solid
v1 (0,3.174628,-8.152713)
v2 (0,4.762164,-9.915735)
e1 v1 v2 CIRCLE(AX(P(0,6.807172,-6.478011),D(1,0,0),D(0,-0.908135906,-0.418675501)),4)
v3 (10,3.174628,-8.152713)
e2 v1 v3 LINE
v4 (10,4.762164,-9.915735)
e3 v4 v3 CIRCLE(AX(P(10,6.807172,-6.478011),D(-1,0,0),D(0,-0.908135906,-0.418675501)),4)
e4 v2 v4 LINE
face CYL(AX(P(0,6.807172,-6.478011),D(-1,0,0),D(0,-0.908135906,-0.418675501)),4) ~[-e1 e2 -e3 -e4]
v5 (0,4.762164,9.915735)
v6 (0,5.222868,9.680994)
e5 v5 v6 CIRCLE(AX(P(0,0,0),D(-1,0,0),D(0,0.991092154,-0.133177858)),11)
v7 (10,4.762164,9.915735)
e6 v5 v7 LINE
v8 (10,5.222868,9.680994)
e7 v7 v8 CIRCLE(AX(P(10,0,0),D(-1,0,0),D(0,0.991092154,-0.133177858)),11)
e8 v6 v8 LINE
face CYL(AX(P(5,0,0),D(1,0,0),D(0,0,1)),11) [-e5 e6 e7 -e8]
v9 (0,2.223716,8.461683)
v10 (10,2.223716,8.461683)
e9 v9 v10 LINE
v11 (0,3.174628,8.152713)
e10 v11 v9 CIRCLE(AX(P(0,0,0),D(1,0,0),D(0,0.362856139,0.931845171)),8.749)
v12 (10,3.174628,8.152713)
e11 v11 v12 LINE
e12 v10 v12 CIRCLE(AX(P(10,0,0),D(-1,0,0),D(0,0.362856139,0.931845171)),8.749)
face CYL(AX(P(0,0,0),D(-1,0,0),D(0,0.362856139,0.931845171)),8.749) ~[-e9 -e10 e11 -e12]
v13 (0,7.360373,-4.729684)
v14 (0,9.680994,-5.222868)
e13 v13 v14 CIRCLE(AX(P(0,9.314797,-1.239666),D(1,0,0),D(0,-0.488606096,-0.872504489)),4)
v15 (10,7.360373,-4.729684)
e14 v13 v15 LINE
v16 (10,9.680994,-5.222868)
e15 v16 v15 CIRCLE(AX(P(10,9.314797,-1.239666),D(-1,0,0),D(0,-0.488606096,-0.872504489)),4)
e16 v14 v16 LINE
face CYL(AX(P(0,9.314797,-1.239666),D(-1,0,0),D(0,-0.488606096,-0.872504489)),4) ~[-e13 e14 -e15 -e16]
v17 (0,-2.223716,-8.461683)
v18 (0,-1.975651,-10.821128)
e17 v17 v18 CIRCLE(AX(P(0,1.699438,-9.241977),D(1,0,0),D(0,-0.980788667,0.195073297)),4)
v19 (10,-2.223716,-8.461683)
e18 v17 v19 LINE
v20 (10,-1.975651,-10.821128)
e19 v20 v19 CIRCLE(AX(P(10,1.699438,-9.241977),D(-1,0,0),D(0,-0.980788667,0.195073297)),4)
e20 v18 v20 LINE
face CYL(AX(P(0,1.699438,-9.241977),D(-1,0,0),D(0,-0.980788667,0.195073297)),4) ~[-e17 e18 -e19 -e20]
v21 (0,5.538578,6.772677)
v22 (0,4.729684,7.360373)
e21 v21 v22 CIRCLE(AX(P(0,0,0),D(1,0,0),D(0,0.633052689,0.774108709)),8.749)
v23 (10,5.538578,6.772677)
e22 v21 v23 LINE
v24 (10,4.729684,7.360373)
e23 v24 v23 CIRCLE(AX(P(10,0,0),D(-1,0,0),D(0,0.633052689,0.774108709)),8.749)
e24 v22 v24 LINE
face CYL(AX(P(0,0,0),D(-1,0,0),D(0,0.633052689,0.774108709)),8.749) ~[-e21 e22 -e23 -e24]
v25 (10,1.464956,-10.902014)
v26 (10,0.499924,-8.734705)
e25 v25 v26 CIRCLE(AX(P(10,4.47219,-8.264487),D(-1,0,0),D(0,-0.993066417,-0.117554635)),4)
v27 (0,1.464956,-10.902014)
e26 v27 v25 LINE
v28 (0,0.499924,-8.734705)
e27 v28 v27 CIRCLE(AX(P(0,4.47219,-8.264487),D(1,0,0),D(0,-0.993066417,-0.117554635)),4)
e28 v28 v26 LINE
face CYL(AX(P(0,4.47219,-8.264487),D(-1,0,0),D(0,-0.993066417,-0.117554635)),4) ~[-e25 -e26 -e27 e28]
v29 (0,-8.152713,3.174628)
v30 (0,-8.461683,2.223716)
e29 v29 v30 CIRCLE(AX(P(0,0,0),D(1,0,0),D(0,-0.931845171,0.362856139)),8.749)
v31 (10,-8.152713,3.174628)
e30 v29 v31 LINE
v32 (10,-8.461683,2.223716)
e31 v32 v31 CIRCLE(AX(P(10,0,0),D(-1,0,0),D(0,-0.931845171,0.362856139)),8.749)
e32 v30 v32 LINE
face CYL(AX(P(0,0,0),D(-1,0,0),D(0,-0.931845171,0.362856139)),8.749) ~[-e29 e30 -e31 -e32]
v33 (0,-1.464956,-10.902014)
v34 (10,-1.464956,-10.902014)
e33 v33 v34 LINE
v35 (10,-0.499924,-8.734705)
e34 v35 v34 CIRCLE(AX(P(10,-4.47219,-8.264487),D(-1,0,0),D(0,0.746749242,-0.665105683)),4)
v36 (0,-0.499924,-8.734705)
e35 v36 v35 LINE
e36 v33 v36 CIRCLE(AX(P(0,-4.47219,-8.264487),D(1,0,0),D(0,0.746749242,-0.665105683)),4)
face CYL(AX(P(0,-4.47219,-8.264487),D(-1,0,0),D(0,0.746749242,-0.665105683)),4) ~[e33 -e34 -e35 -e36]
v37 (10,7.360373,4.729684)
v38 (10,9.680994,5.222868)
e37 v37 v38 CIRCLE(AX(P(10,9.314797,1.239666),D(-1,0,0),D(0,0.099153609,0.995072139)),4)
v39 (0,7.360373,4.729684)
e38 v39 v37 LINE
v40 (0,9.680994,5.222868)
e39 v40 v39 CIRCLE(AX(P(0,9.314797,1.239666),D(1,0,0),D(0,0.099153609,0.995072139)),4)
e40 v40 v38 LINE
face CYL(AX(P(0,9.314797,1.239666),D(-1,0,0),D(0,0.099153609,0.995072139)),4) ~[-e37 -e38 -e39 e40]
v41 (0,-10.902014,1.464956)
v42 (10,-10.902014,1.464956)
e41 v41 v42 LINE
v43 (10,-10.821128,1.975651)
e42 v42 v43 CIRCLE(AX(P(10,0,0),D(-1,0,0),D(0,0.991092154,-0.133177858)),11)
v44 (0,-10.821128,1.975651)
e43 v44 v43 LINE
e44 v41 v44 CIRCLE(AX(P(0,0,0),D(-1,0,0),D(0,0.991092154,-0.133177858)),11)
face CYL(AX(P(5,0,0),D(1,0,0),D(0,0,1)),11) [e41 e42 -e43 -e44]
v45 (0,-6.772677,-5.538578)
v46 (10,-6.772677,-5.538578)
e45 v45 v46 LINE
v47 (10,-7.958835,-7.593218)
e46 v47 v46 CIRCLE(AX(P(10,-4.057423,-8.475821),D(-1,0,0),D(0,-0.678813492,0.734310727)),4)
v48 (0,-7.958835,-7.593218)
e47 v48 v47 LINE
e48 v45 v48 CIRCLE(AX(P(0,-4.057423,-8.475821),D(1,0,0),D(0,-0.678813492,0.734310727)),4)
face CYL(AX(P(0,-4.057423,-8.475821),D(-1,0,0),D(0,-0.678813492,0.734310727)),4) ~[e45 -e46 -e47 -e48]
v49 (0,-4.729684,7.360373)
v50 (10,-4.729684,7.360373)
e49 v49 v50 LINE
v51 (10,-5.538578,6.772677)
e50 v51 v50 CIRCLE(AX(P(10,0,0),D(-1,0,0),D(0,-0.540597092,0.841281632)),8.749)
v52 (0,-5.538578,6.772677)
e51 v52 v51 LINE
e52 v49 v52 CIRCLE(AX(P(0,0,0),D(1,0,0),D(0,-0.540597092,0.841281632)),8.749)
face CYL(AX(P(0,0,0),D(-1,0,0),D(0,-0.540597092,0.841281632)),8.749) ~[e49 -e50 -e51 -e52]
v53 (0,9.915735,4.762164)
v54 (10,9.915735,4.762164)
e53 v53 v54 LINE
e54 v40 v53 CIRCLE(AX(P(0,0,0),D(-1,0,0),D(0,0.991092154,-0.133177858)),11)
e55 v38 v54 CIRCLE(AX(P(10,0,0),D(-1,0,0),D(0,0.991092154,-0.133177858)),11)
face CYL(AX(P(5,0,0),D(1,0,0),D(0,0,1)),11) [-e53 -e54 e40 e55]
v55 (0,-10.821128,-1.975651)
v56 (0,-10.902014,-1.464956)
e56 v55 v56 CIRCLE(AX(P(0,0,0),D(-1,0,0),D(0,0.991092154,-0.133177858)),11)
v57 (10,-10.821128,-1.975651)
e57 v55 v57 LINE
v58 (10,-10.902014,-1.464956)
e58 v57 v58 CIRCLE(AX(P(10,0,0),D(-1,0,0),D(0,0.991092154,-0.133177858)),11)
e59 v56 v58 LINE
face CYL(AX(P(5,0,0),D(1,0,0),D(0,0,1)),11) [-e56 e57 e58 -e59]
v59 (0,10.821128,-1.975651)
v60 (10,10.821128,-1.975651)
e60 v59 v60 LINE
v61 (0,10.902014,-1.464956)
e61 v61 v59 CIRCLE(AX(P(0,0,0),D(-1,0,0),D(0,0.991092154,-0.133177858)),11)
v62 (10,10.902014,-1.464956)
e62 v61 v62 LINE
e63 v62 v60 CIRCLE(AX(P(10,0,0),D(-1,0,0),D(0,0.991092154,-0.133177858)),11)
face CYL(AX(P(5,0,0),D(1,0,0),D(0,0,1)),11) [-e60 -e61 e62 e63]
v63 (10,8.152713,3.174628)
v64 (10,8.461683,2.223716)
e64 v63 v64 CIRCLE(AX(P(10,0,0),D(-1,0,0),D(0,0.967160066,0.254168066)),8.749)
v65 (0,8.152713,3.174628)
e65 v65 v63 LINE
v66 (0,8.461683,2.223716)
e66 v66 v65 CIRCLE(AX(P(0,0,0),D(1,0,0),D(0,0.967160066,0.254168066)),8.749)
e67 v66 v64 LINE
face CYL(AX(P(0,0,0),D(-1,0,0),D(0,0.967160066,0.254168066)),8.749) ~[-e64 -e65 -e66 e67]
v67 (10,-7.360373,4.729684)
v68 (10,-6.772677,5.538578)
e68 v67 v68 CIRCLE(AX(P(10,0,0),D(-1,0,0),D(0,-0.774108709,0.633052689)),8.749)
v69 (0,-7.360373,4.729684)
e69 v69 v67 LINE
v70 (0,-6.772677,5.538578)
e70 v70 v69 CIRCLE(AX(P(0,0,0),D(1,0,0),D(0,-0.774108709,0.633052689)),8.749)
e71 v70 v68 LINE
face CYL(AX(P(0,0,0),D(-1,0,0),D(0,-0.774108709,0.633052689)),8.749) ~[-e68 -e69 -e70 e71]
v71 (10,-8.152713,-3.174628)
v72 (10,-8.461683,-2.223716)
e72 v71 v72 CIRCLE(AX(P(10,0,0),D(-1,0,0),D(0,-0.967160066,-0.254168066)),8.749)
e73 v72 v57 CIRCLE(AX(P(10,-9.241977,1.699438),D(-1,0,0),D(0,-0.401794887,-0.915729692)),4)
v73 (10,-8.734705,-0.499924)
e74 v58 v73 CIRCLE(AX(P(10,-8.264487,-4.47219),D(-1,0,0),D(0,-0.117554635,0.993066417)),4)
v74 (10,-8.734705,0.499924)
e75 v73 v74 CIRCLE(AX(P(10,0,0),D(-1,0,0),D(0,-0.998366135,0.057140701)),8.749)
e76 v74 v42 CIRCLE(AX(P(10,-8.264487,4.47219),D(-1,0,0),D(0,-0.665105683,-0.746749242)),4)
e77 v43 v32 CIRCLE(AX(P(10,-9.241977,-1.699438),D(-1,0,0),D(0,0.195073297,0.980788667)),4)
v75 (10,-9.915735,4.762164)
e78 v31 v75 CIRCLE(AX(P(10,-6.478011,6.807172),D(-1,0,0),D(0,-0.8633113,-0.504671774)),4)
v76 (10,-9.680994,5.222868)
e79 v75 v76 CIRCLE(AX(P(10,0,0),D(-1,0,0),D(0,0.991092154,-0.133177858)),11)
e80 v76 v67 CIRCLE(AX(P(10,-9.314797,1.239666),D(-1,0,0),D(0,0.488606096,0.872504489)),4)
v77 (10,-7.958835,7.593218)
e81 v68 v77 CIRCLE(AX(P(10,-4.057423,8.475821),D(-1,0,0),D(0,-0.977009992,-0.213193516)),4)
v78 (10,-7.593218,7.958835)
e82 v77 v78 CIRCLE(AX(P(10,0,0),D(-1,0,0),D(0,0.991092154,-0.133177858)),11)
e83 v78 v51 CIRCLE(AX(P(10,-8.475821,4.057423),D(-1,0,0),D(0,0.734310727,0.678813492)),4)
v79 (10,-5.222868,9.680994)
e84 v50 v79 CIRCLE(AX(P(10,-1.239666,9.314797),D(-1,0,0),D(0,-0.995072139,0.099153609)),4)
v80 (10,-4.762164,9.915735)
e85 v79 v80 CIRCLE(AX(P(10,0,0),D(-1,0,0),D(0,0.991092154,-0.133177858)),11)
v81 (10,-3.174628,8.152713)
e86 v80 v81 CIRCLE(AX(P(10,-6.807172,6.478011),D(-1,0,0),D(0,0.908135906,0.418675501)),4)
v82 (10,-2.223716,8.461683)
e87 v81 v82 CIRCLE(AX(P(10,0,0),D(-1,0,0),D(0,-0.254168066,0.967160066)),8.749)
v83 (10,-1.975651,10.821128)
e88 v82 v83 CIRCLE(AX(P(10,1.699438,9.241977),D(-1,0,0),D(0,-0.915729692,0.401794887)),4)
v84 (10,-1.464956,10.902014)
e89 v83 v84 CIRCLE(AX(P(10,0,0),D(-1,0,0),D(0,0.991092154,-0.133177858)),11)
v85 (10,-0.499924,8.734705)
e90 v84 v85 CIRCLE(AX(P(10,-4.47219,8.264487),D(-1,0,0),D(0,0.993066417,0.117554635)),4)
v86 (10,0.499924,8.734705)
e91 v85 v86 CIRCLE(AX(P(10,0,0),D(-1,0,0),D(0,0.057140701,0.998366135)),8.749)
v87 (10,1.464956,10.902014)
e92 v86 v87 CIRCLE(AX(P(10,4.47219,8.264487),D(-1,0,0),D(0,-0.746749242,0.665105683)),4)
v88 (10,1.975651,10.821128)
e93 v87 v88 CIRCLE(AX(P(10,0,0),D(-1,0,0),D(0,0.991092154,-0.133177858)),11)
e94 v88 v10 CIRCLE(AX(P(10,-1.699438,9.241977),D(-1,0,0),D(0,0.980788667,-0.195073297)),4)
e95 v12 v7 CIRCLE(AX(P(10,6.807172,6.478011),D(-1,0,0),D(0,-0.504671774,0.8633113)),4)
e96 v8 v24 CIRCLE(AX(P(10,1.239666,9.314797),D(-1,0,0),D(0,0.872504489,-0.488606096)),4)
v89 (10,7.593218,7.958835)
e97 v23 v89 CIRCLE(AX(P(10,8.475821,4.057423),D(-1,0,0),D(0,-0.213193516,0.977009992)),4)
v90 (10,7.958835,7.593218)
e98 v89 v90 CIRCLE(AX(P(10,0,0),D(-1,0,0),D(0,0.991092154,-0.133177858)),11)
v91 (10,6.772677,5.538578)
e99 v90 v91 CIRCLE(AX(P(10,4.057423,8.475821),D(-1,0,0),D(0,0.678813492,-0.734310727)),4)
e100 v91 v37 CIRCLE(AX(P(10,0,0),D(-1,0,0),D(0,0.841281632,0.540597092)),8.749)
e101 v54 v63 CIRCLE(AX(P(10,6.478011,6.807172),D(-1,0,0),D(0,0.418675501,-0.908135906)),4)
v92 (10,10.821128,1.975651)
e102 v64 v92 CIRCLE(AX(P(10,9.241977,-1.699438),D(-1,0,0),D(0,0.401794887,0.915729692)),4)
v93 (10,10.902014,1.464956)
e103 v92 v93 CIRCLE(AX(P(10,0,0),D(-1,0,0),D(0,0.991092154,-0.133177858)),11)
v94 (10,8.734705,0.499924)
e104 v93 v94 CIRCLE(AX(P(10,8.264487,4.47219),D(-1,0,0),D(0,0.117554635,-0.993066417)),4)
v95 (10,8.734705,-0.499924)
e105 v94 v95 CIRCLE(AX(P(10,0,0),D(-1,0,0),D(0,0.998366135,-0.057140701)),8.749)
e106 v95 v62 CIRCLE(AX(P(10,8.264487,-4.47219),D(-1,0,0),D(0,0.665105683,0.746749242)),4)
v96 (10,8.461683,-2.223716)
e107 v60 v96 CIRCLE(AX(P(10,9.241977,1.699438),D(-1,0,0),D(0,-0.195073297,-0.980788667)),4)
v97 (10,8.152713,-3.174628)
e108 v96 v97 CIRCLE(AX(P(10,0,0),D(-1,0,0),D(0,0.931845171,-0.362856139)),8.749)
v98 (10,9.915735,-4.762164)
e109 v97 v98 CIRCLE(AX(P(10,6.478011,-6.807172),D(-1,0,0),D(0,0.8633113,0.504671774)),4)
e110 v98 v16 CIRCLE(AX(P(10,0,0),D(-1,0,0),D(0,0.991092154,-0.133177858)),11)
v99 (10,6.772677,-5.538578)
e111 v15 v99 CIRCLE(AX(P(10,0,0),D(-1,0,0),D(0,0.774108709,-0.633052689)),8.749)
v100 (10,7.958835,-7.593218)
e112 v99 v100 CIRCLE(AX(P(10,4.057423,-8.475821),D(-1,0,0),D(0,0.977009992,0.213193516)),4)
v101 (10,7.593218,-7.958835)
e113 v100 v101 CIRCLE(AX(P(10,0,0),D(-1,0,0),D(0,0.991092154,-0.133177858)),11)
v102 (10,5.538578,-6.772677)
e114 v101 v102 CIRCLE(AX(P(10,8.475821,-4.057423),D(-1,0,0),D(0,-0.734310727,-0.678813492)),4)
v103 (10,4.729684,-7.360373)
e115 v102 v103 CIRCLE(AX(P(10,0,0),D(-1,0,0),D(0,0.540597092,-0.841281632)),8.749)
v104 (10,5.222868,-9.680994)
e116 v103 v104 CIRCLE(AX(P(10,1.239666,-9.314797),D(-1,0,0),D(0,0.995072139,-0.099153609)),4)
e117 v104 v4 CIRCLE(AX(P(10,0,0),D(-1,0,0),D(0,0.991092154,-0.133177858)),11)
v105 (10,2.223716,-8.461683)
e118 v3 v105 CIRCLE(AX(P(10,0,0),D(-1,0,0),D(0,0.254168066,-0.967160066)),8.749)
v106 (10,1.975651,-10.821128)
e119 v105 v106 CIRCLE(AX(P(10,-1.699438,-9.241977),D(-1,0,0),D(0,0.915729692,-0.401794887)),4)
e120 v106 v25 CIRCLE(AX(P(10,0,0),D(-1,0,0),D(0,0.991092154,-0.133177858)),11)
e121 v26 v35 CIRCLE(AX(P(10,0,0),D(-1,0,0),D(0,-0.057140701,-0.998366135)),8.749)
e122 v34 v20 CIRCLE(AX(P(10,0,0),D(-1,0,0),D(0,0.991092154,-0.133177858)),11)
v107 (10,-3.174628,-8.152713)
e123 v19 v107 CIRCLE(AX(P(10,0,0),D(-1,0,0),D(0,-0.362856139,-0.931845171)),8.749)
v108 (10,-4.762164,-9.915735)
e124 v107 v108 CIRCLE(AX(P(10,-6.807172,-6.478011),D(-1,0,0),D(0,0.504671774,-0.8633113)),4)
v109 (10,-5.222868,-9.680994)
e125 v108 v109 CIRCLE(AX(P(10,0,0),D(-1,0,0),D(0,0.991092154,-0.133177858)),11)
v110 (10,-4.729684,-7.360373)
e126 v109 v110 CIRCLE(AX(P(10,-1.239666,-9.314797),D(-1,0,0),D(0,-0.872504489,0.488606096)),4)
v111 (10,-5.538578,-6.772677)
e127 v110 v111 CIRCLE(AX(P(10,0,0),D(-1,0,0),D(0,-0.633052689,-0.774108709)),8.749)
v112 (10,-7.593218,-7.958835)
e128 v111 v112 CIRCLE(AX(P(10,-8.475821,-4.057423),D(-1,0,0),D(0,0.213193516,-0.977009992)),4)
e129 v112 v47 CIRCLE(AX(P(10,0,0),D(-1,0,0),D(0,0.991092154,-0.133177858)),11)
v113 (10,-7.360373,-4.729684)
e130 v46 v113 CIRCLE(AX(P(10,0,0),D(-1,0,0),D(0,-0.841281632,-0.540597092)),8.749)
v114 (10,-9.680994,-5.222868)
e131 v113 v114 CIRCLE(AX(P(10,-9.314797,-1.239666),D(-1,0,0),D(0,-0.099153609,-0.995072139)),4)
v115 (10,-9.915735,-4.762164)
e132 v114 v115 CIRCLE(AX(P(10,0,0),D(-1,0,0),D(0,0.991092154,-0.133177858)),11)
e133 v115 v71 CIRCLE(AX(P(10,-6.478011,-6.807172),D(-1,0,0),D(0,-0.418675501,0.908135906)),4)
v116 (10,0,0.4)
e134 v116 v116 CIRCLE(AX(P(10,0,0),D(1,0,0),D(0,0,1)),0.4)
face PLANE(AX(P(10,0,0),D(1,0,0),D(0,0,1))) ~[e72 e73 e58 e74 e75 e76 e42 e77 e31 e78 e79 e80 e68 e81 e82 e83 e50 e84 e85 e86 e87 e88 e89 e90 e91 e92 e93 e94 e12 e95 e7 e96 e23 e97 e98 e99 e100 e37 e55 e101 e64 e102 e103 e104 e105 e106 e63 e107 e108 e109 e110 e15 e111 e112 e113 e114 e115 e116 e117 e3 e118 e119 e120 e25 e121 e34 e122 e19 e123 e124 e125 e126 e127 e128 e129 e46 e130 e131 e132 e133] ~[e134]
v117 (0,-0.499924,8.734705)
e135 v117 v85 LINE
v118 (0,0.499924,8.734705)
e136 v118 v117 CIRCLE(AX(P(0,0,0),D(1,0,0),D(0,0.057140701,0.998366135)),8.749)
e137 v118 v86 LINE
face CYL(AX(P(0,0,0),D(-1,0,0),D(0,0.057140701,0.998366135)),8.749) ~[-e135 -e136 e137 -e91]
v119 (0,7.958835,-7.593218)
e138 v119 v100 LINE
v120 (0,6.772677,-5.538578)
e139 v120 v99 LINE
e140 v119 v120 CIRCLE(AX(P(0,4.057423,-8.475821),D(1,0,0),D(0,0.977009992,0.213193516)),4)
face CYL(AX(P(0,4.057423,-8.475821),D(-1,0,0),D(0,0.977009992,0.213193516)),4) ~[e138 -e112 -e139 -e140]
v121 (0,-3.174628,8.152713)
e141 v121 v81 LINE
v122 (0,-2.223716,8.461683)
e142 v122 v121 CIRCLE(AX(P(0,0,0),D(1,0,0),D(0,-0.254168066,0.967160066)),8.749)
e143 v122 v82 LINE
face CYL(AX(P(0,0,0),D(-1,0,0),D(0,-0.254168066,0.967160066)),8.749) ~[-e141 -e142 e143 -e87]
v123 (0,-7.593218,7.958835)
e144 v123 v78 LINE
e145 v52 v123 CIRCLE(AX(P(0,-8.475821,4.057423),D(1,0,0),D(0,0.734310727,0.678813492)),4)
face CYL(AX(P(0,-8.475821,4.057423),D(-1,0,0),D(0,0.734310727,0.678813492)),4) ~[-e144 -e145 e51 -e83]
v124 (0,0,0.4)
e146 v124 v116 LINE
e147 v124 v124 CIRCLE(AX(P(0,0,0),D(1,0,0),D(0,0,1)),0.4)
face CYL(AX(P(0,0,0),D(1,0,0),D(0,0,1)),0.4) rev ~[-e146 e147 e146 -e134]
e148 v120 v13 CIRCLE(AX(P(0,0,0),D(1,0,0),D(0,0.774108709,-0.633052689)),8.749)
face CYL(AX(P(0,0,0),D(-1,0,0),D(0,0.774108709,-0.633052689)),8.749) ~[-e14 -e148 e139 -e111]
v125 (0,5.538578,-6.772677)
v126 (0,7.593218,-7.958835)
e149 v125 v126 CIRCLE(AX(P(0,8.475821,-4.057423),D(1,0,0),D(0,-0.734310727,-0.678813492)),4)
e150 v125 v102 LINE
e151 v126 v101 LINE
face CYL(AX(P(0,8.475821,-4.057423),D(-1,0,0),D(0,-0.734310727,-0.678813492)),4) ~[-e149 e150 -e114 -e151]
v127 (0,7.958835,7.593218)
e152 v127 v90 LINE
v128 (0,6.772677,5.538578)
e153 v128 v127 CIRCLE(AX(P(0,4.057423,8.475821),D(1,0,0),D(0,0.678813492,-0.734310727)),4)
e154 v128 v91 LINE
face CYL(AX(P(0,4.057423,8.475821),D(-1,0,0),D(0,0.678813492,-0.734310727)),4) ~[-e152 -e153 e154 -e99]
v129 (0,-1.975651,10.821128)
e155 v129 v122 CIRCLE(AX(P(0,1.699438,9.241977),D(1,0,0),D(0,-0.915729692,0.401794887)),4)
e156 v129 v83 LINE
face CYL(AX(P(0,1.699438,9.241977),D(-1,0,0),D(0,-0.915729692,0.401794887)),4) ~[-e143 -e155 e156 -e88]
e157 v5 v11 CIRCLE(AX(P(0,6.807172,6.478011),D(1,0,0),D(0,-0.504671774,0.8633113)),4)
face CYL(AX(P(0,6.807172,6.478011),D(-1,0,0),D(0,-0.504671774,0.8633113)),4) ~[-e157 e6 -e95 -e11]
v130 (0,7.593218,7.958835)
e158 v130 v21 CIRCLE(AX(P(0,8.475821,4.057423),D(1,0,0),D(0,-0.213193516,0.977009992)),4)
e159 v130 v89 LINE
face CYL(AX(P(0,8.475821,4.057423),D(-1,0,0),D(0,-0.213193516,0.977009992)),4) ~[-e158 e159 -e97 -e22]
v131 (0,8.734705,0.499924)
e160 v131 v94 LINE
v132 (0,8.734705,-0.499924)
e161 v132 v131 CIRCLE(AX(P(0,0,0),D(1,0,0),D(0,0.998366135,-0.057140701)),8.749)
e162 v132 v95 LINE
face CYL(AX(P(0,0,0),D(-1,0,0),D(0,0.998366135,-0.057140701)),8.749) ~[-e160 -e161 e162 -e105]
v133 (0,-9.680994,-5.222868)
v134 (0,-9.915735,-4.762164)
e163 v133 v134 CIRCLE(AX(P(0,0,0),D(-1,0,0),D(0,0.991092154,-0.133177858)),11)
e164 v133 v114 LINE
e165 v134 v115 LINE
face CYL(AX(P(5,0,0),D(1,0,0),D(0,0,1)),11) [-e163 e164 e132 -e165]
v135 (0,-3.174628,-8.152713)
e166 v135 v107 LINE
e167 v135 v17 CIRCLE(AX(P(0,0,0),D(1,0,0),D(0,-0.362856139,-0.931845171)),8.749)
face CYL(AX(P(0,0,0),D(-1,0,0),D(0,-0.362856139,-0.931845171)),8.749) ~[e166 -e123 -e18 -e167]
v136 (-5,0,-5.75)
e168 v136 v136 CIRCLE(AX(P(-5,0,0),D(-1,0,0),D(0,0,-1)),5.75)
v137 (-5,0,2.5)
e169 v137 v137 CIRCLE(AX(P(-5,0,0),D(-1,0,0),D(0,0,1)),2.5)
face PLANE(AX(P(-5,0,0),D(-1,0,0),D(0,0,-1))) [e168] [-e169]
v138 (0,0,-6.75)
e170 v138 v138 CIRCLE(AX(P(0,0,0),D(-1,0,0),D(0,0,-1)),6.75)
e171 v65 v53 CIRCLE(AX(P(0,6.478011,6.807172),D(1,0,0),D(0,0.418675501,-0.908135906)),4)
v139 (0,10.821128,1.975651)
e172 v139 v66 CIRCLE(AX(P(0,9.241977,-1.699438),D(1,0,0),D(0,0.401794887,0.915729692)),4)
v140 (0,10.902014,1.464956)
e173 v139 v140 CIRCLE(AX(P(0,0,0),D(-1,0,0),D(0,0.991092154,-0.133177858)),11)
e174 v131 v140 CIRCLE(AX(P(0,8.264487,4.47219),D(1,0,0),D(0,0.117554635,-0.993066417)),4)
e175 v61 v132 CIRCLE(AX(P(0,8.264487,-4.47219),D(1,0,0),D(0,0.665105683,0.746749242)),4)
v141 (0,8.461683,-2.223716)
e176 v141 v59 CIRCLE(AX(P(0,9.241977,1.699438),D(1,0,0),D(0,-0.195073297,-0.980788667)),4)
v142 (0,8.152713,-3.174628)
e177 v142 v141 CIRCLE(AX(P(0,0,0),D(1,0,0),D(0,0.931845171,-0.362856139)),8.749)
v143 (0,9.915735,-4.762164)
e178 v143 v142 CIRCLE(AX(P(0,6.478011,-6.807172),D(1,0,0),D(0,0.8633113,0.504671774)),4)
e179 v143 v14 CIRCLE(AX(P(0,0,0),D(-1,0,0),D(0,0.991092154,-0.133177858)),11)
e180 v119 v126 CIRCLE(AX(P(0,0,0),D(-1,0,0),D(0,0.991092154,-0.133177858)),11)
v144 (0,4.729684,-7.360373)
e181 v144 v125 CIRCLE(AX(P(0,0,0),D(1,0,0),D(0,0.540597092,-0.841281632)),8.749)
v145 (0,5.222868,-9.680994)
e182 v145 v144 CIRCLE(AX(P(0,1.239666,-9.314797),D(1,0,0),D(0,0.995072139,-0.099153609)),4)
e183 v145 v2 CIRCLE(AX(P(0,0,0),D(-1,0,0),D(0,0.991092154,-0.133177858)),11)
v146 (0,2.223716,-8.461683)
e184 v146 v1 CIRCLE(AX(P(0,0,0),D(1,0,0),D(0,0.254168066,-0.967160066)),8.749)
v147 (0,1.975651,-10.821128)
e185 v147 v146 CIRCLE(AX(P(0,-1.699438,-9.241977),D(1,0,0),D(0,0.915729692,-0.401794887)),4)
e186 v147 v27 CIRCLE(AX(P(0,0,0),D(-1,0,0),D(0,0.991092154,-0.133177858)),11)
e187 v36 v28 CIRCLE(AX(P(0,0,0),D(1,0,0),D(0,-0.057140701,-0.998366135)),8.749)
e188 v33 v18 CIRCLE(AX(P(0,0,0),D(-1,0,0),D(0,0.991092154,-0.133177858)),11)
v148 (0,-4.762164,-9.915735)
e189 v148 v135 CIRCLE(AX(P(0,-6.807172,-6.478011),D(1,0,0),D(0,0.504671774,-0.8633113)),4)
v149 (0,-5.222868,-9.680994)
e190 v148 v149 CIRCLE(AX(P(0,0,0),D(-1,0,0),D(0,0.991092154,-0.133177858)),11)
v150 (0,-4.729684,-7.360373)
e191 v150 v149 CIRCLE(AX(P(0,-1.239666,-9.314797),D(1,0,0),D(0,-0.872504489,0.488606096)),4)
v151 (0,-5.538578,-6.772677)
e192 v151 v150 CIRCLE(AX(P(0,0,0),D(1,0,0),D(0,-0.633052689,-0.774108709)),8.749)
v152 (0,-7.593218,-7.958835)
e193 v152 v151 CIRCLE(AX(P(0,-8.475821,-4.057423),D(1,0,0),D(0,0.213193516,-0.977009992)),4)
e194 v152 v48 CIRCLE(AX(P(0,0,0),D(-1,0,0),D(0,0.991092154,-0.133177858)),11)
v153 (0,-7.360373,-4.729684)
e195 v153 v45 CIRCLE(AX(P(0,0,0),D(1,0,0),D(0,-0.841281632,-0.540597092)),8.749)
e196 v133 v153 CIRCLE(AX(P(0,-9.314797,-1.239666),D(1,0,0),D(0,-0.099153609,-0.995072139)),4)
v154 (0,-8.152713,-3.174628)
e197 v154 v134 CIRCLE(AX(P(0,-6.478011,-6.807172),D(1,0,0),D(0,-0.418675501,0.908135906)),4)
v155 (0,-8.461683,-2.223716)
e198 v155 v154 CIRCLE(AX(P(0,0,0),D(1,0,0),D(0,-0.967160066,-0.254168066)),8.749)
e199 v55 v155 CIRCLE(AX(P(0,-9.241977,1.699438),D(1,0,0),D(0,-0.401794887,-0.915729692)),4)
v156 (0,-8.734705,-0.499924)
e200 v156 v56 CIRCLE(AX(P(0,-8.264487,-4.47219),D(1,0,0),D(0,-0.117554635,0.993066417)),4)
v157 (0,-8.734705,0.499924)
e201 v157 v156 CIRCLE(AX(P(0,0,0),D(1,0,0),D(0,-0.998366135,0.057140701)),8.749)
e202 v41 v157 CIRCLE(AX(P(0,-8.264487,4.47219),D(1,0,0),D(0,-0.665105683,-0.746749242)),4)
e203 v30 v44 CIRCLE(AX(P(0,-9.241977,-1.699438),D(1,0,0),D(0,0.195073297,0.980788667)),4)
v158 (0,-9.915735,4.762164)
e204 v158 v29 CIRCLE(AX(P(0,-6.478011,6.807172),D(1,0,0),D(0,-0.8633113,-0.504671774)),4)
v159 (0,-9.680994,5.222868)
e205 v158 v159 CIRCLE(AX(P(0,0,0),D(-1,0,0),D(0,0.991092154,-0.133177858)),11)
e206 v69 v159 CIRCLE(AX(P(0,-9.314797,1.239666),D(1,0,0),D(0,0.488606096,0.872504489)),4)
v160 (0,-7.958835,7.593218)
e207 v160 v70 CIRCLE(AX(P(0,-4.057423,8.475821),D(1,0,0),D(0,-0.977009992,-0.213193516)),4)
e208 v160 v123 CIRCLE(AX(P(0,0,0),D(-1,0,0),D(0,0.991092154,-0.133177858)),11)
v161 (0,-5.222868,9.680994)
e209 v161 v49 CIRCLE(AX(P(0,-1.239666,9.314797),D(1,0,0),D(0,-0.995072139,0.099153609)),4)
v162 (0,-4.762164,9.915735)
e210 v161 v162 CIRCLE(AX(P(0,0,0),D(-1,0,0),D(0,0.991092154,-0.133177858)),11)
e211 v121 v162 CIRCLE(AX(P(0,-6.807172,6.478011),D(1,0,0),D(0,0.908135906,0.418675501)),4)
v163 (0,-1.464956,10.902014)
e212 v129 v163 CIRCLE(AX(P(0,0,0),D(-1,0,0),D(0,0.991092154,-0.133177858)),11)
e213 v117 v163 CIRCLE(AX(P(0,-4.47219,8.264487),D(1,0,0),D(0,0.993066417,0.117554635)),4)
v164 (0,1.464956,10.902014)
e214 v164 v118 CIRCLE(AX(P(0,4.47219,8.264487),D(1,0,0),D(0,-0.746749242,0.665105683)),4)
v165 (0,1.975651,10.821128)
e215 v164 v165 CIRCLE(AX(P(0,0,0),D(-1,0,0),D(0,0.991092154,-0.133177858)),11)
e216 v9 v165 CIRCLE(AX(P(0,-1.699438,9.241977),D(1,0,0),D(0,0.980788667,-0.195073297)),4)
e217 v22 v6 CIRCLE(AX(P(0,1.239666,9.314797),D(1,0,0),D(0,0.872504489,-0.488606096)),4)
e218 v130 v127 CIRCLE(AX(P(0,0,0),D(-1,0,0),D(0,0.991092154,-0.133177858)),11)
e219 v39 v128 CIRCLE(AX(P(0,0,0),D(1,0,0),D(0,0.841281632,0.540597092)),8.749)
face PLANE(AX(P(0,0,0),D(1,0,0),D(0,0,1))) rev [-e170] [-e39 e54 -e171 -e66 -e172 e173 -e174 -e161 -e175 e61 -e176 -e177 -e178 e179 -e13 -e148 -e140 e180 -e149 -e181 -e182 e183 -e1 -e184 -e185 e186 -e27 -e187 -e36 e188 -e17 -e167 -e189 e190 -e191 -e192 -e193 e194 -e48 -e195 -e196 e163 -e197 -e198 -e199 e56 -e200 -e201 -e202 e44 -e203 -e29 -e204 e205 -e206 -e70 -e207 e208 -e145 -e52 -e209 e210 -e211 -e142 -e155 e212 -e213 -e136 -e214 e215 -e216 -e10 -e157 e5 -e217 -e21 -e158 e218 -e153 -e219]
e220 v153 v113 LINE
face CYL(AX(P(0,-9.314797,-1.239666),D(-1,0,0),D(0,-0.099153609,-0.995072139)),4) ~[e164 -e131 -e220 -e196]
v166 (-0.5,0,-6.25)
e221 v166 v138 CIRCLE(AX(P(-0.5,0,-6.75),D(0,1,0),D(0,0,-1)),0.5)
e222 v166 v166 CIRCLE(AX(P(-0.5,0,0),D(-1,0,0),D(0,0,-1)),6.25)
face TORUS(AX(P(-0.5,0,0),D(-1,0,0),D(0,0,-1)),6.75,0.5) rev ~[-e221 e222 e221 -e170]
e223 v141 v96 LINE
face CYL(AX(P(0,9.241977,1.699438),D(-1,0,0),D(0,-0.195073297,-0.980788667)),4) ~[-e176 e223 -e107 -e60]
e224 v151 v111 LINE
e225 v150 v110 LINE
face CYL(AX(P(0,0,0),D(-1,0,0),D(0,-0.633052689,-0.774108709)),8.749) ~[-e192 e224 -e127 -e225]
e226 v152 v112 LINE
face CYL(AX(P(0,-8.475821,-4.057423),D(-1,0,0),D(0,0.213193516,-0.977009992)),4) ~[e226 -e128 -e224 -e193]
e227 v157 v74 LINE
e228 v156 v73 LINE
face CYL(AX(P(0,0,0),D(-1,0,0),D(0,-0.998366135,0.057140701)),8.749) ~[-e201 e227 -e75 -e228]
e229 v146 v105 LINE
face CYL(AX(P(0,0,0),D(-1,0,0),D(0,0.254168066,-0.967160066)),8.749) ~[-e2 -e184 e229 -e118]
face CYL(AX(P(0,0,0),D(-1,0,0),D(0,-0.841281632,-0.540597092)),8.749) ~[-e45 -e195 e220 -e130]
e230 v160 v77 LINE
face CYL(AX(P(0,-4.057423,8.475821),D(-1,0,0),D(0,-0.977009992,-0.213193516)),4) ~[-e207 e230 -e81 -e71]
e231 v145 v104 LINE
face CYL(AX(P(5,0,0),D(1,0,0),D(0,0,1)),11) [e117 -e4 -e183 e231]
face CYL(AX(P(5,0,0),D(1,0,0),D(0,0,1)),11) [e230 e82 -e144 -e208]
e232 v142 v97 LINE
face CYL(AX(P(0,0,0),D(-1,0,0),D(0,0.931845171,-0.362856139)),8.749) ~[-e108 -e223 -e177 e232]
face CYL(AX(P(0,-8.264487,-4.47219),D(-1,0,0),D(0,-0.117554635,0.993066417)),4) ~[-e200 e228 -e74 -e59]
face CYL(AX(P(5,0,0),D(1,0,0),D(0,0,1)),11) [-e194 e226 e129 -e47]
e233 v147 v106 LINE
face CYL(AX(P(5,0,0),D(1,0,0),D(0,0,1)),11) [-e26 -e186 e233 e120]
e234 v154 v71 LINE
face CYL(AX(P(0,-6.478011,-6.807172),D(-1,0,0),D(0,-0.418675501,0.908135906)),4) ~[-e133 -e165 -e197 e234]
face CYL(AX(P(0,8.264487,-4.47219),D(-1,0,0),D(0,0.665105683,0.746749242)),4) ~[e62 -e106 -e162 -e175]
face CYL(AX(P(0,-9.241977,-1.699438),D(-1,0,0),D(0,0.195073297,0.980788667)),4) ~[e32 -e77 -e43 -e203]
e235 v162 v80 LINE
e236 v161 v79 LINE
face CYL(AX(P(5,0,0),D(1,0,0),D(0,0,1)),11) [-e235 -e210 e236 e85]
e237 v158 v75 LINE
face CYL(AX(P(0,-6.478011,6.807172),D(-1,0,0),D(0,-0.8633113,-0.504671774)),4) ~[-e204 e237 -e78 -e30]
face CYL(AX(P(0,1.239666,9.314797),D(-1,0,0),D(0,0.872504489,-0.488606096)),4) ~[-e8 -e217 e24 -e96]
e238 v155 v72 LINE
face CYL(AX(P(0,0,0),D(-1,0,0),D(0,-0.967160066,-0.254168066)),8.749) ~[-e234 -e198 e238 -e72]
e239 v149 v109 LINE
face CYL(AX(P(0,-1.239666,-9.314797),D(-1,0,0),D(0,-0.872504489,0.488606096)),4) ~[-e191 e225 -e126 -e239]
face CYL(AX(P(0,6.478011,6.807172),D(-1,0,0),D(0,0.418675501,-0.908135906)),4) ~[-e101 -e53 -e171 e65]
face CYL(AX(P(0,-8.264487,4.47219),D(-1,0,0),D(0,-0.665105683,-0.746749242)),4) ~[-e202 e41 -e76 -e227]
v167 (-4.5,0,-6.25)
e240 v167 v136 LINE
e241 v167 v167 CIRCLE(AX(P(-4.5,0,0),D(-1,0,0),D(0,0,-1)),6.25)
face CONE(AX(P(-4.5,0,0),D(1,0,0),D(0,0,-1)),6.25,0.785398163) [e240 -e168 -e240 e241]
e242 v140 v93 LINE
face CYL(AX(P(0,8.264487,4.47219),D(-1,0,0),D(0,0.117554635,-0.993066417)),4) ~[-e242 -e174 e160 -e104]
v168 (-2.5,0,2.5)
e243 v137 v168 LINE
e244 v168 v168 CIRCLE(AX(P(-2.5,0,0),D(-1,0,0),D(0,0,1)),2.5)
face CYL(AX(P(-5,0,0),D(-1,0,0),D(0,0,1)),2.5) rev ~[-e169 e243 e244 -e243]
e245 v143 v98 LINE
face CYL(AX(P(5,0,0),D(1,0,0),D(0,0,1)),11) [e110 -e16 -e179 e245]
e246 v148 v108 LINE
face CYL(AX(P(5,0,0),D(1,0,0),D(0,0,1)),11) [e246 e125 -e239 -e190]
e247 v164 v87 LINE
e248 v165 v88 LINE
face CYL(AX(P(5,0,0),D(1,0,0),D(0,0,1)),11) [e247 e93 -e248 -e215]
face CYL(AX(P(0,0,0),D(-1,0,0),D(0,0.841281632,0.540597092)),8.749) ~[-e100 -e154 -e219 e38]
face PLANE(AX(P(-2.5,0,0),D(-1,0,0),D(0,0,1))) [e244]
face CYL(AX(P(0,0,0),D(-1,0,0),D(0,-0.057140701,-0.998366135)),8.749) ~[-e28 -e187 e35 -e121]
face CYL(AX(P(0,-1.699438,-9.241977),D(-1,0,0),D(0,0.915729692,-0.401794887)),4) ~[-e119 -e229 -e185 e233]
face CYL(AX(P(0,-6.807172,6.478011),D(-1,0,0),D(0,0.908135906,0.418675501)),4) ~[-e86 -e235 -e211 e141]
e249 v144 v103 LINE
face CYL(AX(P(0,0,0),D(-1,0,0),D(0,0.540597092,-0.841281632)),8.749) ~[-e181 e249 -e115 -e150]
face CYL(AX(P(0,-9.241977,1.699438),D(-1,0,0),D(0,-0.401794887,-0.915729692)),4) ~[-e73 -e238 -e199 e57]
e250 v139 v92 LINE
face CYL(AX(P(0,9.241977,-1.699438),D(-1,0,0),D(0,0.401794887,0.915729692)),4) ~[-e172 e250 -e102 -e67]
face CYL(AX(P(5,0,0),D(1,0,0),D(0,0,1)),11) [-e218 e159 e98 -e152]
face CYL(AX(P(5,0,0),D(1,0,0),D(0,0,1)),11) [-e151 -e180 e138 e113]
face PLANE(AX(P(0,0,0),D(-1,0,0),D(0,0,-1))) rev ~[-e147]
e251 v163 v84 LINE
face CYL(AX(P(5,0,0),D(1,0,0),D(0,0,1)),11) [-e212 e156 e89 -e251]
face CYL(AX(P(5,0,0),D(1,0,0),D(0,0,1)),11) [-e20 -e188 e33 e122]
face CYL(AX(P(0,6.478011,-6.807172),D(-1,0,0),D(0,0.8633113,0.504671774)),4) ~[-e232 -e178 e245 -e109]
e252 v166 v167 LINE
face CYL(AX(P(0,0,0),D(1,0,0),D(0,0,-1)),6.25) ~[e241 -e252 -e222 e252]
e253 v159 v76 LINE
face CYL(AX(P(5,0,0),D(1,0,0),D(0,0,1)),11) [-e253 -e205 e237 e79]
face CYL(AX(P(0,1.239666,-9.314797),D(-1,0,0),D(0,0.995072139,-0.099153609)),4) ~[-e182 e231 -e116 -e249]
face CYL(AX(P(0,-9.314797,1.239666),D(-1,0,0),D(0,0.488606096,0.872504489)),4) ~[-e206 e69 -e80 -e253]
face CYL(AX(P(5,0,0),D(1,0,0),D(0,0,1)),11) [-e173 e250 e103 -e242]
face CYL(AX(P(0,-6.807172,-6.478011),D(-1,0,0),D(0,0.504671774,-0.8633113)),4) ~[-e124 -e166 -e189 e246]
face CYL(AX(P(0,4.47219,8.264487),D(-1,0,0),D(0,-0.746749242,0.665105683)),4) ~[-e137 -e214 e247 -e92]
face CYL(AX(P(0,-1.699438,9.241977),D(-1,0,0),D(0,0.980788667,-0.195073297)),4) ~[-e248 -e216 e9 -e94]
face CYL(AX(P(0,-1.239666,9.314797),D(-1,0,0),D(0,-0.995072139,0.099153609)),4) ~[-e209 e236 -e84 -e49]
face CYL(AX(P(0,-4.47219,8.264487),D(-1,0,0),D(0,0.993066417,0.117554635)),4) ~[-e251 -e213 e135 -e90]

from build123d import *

# Parameters (mm, degrees)
BASPROSKE_W         = 10
BASPROSKE_H         = 11
TOOTHCUT_DEPTH      = 19.493242009
TEETHCUTS_COUNT     = 20
TEETHCUTS_ANGLE     = 342
BORSKE_R            = 0.4
BORE_DEPTH          = 50.0000508
SKETCH1_R           = 6.25
BOSS_EXTRUDE1_DEPTH = 5
FILLET1_R           = 0.5
CHAMFER1_SIZE       = 0.5
SKETCH4_R           = 2.5
CUT_EXTRUDE1_DEPTH  = 2.5


with BuildPart() as part:
    # BasProSke → Base-Revolve (revolve)
    with BuildSketch(Plane(origin=(0, 0, 0), x_dir=(1, 0, 0), z_dir=(0, 1, 0)), mode=Mode.PRIVATE) as base_revolve_sk:
        with Locations((5, 5.5)):
            Rectangle(BASPROSKE_W, BASPROSKE_H)
    revolve(base_revolve_sk.sketch.rotate(Axis((-10, 0, 0), (1, 0, 0)), 180), axis=Axis((-10, 0, 0), (1, 0, 0)))

    # TooCutSke → ToothCut (cut, through all)
    with BuildSketch(Plane(origin=(0, 0, 0), x_dir=(0, 0, -1), z_dir=(1, 0, 0))):
        with BuildLine():
            ThreePointArc((0.499924007, 8.734705318), (0, 8.749), (-0.499924007, 8.734705318))
            ThreePointArc((-0.499924007, 8.734705318), (-0.824302243, 9.905497836), (-1.485192705, 10.924909509))
            ThreePointArc((-1.485192705, 10.924909509), (0, 11.0254), (1.485192705, 10.924909509))
            ThreePointArc((1.485192705, 10.924909509), (0.824302243, 9.905497836), (0.499924007, 8.734705318))
        make_face()
    toothcut = extrude(amount=TOOTHCUT_DEPTH, mode=Mode.SUBTRACT)

    # TeethCuts: ToothCut ×20 about axis
    teethcuts_axis = Axis((-10, 0, 0), (1, 0, 0))
    for i in range(1, TEETHCUTS_COUNT):
        add(toothcut.rotate(teethcuts_axis, i * TEETHCUTS_ANGLE / (TEETHCUTS_COUNT - 1)), mode=Mode.SUBTRACT)

    # BorSke → Bore (cut, symmetric)
    with BuildSketch(Plane(origin=(0, 0, 0), x_dir=(0, 0, -1), z_dir=(1, 0, 0))):
        with Locations(Location((0, 0, 0), (0, 0, 180))):
            Circle(BORSKE_R)
    extrude(amount=BORE_DEPTH, both=True, mode=Mode.SUBTRACT)

    # Sketch1 → Boss-Extrude1 (add)
    with BuildSketch(Plane.ZY):
        with Locations(Location((0, 0, 0), (0, 0, 180))):
            Circle(SKETCH1_R)
    extrude(amount=BOSS_EXTRUDE1_DEPTH)

    # Fillet1
    fillet1_edges = [part.edges().sort_by_distance(p)[0] for p in [
        (0, 0, 6.25),
    ]]
    fillet(fillet1_edges, radius=FILLET1_R)

    # Chamfer1
    chamfer1_edges = [part.edges().sort_by_distance(p)[0] for p in [
        (-5, 0, 6.25),
    ]]
    chamfer(chamfer1_edges, length=CHAMFER1_SIZE)

    # Sketch4 → Cut-Extrude1 (cut)
    with BuildSketch(Plane.ZY.offset(5)):
        Circle(SKETCH4_R)
    extrude(amount=-CUT_EXTRUDE1_DEPTH, mode=Mode.SUBTRACT)


solid = part.part
